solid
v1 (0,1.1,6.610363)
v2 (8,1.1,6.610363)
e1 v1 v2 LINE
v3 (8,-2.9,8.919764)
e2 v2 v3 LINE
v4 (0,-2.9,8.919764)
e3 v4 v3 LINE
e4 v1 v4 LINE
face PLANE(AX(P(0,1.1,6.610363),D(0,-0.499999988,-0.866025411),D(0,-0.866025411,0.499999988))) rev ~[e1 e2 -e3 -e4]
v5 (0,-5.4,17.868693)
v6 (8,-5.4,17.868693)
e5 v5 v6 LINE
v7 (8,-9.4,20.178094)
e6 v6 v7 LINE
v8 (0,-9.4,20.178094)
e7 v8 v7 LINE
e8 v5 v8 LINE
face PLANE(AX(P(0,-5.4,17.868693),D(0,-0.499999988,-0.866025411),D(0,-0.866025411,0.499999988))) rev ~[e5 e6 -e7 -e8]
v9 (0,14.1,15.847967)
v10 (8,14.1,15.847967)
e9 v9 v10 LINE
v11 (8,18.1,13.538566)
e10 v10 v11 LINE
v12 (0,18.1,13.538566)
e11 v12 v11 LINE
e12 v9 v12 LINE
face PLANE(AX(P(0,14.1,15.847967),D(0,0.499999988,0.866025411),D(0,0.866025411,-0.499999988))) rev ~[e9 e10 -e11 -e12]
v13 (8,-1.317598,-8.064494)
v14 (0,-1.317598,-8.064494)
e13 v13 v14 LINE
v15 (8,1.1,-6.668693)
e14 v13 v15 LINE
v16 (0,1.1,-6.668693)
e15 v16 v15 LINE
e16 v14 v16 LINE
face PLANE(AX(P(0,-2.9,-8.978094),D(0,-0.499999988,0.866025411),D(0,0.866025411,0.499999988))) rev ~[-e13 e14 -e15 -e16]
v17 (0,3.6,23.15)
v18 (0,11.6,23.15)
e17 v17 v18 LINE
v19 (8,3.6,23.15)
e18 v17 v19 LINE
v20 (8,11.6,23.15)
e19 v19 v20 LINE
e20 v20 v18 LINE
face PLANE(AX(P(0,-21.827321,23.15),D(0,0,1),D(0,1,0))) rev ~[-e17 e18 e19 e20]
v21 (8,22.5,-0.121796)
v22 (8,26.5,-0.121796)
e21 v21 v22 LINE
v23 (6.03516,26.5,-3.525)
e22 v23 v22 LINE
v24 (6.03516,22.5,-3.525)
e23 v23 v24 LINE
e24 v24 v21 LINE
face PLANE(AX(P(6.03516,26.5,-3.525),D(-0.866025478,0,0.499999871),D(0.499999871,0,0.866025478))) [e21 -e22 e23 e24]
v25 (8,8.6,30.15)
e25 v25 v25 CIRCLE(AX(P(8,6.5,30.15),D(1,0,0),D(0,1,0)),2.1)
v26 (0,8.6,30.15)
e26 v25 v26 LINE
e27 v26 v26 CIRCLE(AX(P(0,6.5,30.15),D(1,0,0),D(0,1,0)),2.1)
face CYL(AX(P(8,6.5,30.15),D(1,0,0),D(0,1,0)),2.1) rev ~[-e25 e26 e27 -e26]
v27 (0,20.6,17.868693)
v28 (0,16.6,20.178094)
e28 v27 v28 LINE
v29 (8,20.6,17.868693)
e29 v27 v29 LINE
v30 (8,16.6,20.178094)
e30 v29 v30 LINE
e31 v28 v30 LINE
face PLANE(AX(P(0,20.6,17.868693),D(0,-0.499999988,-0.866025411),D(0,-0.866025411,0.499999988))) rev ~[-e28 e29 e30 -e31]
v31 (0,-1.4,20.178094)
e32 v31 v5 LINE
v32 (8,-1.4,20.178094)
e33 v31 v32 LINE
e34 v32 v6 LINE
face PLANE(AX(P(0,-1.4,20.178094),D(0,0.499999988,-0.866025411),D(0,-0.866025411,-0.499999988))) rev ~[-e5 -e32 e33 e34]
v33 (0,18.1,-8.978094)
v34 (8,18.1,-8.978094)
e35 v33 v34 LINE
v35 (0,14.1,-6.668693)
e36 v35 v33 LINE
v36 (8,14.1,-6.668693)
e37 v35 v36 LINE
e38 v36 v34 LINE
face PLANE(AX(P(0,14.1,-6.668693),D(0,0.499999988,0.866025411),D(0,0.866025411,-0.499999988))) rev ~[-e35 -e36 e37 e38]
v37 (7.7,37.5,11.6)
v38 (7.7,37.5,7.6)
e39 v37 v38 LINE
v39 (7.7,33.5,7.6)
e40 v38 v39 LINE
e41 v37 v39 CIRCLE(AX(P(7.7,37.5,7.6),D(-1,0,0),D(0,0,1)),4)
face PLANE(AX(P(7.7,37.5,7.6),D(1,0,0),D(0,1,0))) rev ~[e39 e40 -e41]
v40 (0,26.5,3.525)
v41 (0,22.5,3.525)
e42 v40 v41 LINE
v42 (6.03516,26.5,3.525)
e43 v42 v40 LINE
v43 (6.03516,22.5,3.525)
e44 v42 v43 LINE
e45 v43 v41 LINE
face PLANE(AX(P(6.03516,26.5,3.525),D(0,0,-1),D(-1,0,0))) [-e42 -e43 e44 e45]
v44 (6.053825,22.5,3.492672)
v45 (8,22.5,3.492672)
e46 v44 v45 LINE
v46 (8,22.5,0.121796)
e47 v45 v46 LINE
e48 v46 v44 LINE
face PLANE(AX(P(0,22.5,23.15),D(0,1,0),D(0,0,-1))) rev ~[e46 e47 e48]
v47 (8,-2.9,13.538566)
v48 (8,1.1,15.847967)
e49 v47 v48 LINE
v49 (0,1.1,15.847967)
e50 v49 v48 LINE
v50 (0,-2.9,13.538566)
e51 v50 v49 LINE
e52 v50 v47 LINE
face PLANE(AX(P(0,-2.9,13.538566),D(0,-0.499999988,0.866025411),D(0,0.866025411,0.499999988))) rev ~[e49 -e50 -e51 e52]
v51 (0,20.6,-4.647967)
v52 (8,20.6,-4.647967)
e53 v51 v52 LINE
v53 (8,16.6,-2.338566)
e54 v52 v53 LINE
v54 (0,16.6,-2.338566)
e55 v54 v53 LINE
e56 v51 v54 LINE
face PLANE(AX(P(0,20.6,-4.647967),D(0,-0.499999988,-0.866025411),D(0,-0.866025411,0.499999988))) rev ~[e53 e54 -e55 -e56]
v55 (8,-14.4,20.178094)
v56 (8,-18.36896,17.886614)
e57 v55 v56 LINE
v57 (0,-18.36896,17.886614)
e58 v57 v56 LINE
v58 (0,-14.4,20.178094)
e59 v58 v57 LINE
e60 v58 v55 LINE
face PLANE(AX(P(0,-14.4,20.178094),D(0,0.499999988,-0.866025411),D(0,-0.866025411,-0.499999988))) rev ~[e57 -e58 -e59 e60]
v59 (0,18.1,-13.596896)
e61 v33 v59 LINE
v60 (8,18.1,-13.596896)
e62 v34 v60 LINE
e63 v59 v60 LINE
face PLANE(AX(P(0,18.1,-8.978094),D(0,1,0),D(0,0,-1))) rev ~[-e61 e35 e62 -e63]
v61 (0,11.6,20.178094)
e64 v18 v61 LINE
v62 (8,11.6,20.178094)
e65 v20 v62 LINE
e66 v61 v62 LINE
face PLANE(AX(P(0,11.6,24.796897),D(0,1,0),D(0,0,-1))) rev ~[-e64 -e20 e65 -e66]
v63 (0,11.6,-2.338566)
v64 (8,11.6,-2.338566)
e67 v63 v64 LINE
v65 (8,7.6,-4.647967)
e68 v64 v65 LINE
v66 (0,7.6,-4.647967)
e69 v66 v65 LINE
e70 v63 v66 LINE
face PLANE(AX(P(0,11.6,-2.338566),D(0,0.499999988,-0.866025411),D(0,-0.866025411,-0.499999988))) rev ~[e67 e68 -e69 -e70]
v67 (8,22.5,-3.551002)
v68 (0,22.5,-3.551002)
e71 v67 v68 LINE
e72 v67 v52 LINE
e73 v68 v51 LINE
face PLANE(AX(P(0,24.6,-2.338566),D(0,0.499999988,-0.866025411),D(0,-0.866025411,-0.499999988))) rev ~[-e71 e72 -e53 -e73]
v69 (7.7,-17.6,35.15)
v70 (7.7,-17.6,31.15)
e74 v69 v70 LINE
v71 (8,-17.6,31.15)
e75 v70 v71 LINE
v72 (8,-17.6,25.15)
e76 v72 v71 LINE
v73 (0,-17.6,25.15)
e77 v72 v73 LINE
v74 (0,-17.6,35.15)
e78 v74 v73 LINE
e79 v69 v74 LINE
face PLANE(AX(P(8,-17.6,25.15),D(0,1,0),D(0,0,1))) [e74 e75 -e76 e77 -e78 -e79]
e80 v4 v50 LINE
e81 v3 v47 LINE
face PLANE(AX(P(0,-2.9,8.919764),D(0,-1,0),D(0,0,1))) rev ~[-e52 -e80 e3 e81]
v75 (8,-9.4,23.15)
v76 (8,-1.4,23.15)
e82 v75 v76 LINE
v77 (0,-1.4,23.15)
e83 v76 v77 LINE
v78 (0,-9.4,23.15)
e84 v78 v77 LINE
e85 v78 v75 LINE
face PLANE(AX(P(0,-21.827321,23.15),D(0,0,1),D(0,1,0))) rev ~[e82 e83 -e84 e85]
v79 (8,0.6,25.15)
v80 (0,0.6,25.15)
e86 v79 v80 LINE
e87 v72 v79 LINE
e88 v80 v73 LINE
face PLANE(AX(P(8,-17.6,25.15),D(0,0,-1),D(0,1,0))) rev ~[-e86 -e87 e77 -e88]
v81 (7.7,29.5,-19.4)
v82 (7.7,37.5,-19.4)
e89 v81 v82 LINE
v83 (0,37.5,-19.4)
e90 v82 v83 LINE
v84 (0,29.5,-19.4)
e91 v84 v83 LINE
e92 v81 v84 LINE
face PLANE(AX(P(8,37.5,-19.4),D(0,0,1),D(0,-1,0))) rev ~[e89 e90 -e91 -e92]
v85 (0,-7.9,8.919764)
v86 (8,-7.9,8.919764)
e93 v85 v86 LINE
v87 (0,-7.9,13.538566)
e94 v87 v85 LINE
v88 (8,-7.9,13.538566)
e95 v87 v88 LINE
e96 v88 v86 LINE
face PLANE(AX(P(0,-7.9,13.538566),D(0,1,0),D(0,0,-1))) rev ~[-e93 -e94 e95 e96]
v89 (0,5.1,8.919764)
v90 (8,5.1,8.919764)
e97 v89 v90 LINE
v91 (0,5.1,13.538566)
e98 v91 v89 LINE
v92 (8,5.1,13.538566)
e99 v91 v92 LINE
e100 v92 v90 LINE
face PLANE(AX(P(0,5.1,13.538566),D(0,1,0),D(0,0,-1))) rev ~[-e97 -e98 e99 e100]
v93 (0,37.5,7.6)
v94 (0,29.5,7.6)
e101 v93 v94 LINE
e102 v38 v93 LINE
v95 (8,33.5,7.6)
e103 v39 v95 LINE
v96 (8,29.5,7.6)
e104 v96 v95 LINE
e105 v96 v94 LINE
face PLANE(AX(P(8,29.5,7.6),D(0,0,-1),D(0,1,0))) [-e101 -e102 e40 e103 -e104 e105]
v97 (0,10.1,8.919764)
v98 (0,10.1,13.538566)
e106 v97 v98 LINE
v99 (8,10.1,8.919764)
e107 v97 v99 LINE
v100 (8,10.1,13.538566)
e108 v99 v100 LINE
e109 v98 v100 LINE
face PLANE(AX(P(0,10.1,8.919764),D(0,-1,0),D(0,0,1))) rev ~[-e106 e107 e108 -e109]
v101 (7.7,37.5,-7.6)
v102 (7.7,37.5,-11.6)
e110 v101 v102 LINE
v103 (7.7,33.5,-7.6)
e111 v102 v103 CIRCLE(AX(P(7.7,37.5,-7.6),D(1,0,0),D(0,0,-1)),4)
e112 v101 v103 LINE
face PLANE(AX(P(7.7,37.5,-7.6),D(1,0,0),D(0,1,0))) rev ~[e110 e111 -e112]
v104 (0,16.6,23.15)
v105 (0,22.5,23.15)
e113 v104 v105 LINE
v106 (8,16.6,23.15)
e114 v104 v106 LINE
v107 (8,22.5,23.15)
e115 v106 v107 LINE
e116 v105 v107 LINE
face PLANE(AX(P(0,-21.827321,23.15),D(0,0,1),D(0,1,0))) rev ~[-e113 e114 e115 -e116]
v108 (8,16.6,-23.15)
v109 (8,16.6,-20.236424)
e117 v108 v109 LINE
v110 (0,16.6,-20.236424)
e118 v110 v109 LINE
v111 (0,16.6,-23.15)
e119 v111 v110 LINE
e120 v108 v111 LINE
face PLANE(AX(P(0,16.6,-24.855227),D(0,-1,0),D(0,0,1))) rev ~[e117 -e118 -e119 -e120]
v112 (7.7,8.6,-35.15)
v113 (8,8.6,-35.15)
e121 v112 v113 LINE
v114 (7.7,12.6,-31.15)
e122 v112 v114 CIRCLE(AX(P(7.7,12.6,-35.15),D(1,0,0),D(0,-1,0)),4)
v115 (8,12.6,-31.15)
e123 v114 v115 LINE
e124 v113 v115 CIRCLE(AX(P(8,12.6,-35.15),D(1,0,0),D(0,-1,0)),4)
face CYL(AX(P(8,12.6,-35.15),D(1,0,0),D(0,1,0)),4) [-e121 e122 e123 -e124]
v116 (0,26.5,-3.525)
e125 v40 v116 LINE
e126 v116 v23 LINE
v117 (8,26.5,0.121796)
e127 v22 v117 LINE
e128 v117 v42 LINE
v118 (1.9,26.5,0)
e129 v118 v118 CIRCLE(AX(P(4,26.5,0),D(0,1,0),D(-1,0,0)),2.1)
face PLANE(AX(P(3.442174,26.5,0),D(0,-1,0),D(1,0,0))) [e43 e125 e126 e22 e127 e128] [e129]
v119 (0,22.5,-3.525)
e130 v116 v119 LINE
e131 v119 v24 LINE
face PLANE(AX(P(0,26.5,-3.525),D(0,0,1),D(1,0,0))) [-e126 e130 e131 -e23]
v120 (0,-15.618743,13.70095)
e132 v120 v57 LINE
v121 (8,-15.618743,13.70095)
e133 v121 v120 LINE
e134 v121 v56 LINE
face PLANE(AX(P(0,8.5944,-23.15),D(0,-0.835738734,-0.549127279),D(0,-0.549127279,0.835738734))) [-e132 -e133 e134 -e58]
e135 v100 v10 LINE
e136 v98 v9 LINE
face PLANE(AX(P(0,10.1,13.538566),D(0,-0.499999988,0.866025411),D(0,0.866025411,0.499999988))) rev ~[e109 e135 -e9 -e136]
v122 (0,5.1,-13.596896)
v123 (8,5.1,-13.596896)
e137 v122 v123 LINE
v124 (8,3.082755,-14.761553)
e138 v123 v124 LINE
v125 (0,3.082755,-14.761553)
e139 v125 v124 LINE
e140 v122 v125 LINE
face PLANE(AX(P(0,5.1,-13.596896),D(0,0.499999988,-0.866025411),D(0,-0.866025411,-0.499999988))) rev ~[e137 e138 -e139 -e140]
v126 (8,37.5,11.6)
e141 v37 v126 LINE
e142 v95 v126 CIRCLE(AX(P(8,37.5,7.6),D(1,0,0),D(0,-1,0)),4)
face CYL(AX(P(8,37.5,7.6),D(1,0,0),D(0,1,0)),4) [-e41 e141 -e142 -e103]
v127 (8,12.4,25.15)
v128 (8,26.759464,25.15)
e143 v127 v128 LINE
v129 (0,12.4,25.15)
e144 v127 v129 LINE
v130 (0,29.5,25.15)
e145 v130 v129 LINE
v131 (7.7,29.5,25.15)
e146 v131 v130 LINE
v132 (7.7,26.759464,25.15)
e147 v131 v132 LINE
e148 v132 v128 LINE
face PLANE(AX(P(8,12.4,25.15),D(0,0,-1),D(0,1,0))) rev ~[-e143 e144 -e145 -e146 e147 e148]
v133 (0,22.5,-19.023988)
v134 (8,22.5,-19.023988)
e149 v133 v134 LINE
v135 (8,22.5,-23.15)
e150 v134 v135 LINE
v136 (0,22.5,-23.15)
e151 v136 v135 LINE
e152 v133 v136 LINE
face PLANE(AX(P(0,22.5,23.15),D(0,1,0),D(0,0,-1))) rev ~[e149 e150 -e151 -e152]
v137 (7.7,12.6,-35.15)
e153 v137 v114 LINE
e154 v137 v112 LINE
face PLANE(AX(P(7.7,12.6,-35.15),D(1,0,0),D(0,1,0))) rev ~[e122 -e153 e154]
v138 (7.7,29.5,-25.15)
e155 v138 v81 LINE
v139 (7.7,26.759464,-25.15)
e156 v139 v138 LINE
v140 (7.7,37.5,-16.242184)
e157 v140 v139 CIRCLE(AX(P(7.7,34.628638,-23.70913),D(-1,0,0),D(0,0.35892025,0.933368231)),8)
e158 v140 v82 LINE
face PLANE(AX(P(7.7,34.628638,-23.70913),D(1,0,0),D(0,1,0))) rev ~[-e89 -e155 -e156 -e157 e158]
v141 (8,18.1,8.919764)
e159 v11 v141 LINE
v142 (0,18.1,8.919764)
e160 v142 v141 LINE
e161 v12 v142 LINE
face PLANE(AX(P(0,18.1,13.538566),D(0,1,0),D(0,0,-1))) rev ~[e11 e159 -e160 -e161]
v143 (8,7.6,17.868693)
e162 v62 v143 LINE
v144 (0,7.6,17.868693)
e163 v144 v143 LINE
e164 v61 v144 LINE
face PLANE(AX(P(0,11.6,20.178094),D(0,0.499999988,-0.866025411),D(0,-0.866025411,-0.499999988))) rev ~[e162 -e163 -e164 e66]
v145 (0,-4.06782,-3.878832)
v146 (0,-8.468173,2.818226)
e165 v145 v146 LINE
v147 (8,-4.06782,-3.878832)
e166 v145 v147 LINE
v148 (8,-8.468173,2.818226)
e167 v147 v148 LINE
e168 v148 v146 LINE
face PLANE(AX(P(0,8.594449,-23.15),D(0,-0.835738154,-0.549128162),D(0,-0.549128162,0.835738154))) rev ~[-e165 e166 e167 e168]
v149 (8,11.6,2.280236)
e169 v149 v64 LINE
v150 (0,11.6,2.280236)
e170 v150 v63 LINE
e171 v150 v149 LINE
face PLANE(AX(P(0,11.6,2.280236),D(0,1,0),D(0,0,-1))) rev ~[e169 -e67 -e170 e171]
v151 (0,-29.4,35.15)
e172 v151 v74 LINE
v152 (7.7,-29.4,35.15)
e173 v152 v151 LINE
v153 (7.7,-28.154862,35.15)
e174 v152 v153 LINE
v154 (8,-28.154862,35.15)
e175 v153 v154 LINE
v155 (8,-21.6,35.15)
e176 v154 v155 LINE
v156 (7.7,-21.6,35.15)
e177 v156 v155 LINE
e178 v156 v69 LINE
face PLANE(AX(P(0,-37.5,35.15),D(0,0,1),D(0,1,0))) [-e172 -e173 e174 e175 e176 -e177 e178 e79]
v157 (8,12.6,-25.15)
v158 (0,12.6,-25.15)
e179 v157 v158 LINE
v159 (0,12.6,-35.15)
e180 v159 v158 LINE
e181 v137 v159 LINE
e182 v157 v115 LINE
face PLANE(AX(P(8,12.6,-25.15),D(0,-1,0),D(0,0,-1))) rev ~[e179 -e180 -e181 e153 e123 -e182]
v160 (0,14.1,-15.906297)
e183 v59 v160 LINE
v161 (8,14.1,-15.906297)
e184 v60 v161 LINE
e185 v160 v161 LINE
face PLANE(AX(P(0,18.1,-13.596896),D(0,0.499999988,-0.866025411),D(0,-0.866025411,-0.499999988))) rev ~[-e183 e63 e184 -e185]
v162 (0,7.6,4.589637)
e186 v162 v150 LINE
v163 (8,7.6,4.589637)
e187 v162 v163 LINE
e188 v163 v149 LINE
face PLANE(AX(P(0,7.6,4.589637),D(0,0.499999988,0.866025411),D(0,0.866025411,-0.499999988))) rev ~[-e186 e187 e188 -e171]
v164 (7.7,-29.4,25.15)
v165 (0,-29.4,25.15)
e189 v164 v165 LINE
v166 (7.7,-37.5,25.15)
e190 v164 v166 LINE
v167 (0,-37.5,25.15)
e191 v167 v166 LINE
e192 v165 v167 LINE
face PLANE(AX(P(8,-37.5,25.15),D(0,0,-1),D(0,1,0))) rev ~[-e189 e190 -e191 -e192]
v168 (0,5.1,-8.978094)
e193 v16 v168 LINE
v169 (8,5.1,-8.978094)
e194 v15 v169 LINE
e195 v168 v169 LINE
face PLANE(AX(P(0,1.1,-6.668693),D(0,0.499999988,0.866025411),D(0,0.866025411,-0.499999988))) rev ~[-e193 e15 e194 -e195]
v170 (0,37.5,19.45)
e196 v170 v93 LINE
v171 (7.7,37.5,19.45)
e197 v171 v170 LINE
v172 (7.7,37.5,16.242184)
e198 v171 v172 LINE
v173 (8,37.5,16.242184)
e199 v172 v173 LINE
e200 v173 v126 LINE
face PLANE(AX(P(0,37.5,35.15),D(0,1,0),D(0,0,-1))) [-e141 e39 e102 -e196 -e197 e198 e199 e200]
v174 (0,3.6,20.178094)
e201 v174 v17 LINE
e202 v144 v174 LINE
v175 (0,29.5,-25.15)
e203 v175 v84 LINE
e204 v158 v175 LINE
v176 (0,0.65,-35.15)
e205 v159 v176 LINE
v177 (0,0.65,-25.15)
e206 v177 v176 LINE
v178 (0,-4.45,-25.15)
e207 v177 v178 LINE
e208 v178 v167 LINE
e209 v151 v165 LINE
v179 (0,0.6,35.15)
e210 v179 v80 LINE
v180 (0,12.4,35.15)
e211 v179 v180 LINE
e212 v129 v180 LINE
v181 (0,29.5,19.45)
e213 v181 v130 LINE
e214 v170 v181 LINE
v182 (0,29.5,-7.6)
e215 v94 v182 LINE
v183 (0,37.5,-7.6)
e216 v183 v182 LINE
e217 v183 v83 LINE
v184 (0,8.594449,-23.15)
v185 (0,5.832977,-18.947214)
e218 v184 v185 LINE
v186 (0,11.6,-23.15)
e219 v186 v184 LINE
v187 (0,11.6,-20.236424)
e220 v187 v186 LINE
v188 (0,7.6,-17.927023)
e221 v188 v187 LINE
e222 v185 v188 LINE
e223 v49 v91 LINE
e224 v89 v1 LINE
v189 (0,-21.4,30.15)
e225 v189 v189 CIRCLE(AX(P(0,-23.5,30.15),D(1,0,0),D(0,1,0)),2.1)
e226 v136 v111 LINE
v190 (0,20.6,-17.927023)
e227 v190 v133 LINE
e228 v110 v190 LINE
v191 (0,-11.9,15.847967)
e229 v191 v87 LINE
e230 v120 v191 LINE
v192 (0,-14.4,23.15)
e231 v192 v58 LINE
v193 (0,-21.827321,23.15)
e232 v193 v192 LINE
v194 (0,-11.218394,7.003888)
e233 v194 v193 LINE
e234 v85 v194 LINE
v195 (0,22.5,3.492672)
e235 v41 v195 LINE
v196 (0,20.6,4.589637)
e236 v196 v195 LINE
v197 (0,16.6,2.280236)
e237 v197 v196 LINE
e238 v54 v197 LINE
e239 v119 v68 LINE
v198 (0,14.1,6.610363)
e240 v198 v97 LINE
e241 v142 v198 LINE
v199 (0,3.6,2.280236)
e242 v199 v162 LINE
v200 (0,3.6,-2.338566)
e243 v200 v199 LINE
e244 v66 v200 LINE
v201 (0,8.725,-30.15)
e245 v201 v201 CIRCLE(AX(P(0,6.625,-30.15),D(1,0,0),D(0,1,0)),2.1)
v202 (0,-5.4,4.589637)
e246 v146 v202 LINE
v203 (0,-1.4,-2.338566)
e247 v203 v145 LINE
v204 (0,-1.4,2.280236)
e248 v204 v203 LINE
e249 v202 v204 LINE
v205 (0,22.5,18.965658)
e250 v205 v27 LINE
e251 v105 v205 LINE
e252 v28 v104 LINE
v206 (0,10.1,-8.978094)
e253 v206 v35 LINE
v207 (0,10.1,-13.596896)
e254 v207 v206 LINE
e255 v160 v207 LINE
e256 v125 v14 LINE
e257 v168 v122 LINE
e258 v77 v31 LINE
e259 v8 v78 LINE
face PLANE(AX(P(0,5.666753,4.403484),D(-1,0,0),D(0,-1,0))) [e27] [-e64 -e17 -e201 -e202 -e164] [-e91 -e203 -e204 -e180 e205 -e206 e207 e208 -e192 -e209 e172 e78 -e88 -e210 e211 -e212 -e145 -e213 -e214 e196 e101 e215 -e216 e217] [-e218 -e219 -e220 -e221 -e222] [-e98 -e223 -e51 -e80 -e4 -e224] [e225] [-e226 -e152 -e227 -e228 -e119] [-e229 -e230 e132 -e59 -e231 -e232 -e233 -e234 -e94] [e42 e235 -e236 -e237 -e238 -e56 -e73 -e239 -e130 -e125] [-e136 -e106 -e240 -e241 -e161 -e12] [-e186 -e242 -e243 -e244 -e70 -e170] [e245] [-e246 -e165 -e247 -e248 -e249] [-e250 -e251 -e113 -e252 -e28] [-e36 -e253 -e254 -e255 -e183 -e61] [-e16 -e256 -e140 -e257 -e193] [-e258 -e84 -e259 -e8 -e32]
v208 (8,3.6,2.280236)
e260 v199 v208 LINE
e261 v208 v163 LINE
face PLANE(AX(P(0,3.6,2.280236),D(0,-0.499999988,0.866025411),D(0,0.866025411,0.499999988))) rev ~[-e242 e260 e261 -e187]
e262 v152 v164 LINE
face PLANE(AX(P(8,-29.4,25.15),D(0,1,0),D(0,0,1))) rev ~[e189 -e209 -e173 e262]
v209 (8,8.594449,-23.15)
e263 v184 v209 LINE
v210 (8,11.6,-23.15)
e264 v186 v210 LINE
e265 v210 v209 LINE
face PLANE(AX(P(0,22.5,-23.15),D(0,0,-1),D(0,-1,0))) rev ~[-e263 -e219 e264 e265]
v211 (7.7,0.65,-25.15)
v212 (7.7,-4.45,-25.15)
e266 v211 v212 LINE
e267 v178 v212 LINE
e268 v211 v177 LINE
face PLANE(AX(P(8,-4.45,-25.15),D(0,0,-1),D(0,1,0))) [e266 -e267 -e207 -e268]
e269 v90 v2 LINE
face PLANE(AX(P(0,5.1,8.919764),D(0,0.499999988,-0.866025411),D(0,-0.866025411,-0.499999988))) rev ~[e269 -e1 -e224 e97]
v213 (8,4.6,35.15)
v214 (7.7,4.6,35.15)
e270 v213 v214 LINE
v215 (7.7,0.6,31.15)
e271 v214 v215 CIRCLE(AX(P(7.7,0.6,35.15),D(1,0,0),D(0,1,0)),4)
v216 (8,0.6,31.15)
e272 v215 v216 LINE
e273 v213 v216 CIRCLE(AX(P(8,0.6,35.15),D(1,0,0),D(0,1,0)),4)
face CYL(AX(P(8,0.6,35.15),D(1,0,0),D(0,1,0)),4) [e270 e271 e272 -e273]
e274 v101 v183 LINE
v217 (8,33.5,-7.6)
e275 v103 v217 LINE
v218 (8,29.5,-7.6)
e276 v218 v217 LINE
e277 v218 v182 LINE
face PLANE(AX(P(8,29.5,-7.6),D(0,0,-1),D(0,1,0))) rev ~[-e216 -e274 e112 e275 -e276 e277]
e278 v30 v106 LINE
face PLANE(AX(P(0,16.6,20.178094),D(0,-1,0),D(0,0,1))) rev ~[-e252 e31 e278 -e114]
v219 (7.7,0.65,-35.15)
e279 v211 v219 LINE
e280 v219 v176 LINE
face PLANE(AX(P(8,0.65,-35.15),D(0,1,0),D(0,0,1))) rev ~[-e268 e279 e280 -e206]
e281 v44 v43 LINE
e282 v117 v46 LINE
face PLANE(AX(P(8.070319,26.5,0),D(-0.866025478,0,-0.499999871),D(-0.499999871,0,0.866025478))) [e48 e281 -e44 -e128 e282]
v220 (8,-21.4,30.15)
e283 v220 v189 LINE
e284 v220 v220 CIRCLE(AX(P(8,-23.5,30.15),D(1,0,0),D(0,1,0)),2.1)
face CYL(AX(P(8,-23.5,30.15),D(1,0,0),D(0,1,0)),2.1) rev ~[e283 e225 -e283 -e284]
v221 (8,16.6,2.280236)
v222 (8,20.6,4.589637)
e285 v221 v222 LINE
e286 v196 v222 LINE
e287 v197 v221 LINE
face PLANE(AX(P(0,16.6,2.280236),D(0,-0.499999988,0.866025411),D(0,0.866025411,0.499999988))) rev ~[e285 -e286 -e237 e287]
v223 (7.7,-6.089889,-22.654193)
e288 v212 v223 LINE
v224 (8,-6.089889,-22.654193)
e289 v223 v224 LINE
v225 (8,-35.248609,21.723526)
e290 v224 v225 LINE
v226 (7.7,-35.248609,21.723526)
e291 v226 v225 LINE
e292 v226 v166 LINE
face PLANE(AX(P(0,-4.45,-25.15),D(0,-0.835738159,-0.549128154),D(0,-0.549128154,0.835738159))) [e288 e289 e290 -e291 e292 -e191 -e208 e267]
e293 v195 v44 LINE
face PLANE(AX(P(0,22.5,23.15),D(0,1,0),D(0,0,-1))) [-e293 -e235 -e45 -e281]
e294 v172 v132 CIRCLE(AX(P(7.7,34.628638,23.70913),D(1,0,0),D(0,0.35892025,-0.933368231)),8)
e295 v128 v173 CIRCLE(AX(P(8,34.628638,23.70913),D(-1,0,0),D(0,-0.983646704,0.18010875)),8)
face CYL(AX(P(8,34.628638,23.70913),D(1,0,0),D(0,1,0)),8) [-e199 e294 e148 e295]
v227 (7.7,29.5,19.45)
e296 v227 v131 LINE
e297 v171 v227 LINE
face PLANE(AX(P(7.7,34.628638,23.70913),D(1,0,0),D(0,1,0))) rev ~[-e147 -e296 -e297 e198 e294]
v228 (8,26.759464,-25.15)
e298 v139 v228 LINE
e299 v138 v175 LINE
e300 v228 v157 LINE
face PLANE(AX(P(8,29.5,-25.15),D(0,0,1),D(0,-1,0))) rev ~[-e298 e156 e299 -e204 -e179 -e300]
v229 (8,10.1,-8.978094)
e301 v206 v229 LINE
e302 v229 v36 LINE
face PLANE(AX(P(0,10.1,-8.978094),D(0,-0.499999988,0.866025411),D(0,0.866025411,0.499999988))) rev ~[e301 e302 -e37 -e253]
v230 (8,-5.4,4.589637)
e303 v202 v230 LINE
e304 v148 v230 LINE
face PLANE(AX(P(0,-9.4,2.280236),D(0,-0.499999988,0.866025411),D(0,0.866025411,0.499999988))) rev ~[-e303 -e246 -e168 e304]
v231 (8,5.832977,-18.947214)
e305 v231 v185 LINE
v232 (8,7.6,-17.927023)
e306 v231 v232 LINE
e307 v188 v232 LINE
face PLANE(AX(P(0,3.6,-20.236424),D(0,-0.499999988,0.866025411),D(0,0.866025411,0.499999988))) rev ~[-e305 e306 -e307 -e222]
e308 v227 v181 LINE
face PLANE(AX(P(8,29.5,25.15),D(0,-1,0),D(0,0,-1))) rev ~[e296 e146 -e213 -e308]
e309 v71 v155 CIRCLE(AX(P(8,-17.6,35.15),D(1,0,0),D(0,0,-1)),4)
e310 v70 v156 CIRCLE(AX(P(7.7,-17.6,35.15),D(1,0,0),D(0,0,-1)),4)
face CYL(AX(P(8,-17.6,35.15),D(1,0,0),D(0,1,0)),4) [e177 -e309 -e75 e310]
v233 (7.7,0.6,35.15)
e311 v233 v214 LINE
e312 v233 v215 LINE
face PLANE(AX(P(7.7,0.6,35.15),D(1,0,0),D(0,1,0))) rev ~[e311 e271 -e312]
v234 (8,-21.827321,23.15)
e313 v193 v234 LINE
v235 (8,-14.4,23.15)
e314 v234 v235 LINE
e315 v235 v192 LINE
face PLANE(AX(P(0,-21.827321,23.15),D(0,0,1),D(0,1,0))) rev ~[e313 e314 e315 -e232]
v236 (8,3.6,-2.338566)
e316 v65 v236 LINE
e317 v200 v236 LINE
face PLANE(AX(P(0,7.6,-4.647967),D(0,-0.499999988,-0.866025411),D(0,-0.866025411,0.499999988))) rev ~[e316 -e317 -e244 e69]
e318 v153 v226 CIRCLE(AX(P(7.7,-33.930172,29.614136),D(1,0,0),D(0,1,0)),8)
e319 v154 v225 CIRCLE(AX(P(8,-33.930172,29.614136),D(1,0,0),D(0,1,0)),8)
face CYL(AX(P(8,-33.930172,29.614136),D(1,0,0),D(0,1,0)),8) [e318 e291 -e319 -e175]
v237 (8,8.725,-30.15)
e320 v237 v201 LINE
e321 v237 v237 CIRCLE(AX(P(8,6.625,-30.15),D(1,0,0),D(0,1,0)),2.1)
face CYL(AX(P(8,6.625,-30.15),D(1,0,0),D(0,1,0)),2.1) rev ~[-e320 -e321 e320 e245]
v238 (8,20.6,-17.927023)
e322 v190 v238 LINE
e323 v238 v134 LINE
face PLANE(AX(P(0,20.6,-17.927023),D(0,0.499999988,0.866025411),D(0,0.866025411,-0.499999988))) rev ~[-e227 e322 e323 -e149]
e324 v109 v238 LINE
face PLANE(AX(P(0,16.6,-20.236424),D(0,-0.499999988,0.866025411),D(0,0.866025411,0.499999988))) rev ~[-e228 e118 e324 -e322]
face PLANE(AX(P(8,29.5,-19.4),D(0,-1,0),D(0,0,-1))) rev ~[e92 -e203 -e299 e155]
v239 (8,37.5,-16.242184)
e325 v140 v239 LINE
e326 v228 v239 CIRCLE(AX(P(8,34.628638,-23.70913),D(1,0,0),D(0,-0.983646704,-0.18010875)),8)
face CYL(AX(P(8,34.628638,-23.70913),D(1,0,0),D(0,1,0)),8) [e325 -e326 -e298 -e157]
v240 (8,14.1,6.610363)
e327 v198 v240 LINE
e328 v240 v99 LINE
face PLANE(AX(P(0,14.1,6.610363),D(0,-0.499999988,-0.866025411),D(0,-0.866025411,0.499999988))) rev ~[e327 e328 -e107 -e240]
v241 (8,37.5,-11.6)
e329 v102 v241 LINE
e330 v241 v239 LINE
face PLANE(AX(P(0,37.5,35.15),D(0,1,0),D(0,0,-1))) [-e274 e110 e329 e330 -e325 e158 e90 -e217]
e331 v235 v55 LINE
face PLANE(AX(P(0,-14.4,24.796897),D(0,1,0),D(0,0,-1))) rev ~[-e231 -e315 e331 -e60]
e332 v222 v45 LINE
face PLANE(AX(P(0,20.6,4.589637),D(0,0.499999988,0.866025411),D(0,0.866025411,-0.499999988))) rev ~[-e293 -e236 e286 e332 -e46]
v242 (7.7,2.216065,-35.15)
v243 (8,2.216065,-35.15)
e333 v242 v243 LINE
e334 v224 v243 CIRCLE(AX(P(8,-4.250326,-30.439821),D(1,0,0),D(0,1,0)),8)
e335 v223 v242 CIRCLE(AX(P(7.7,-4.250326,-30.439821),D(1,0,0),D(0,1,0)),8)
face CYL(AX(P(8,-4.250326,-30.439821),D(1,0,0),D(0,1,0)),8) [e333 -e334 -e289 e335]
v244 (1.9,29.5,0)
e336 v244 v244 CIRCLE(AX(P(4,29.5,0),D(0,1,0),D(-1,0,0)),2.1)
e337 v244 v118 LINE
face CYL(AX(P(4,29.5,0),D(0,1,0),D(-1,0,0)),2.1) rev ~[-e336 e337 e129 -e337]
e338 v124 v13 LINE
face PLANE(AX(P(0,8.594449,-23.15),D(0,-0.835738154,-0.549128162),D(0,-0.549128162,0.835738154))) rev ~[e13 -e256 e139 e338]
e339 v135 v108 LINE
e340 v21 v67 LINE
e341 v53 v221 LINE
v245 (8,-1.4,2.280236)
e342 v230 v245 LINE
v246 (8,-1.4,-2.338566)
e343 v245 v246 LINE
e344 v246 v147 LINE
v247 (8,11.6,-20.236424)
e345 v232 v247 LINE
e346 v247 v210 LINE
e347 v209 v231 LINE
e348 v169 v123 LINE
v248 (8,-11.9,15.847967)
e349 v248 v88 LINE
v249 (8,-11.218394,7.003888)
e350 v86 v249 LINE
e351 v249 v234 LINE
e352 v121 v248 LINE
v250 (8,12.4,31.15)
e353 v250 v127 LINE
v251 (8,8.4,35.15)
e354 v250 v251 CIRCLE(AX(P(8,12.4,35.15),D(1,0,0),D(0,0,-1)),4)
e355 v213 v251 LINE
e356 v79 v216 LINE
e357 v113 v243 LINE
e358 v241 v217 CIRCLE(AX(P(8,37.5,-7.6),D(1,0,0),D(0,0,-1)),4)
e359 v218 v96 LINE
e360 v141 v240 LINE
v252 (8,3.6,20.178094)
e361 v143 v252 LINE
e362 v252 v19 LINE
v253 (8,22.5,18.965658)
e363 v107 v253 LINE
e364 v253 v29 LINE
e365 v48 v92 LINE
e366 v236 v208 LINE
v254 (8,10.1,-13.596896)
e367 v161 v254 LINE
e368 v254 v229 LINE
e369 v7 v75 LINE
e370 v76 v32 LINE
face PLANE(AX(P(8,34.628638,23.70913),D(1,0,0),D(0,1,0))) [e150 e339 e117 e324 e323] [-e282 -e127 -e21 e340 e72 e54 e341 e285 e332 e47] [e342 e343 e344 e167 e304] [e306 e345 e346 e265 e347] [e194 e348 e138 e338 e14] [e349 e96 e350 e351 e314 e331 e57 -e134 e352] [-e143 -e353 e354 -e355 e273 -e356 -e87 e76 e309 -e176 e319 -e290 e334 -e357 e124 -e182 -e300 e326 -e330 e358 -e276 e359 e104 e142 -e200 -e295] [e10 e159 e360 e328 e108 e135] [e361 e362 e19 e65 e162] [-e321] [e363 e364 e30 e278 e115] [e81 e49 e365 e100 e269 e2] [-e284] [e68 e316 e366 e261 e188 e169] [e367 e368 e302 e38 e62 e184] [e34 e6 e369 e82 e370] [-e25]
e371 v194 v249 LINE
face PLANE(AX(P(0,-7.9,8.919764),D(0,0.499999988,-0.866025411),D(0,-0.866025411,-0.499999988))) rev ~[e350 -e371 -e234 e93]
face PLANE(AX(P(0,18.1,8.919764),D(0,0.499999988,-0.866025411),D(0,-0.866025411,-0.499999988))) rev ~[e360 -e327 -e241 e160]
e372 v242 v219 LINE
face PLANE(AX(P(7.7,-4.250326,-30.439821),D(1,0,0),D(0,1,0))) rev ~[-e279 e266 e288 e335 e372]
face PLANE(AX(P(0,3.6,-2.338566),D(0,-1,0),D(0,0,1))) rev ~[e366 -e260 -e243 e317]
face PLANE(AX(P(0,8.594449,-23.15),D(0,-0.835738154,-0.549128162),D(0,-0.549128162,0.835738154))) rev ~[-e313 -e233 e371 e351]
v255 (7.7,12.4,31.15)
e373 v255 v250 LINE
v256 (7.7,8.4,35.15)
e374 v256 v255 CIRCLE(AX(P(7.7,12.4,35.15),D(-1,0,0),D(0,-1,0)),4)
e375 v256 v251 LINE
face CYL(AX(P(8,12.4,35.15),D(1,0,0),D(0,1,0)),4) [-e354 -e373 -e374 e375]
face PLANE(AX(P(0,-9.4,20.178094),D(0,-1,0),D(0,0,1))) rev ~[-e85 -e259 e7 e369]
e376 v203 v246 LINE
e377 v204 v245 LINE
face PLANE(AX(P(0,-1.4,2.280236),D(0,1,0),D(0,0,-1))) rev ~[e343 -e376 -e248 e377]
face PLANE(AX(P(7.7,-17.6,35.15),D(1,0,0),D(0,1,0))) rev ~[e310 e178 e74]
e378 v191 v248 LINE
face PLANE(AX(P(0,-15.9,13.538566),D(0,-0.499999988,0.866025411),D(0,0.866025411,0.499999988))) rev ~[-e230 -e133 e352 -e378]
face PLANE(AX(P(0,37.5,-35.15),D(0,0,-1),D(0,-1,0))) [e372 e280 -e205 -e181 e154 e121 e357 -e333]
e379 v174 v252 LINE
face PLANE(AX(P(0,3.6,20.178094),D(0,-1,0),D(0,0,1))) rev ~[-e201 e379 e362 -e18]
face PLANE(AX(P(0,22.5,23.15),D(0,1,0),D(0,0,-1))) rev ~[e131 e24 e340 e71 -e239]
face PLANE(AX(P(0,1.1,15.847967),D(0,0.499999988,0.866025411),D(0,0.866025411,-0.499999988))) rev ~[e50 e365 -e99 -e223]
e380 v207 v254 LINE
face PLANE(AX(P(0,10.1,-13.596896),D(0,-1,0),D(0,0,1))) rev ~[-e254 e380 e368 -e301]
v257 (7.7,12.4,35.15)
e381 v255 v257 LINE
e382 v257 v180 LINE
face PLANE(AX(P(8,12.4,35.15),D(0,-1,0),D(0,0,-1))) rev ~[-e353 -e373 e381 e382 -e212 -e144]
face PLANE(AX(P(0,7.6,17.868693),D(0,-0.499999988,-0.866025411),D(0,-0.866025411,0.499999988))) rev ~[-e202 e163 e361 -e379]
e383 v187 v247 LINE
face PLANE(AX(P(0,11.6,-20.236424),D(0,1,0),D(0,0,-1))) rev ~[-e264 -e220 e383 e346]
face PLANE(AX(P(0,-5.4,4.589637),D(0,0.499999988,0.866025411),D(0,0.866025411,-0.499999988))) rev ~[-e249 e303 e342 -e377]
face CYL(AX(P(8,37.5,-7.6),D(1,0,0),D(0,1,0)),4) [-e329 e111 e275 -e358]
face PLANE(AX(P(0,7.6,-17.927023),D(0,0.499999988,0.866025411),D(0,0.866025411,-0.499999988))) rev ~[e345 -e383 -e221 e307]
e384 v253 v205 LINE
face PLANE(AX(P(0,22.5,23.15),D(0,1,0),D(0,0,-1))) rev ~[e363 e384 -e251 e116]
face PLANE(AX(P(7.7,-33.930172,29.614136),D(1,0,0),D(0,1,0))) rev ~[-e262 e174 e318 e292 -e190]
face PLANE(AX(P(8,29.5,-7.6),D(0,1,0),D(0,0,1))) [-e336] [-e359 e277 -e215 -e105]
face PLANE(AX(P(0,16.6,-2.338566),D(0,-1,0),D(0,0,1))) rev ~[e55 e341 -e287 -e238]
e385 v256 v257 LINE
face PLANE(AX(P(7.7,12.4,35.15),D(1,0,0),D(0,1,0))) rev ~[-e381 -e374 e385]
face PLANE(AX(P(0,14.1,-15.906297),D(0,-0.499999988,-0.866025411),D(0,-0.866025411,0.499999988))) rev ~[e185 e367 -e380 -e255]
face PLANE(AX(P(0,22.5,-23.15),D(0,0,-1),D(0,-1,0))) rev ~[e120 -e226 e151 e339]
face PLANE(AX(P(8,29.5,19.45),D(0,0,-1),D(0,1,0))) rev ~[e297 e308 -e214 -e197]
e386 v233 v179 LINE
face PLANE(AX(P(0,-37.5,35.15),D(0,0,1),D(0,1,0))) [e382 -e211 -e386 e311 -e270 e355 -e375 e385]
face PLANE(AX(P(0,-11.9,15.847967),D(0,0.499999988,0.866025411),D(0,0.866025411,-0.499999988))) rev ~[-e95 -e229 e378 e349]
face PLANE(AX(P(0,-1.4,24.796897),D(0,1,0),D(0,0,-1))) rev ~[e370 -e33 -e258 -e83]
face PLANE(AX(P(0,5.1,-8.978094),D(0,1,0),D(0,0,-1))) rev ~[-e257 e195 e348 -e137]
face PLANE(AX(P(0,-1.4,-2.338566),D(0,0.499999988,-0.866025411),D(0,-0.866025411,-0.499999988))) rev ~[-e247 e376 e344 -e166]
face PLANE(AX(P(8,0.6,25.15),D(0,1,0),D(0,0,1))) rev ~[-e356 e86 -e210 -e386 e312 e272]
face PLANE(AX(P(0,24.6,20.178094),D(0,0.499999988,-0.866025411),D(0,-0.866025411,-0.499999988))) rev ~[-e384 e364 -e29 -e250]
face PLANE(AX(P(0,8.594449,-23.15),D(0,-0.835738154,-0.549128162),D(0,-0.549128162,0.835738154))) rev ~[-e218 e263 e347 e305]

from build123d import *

# Parameters (mm, degrees)
HONEYCOMB_W      = 109
HONEYCOMB_H      = 99.592922
EXTRUDE002_DEPTH = 8
PAD002_DEPTH     = 8
PAD001_DEPTH     = 5.1
PAD_DEPTH        = 8
SKETCH001_W      = 8.1
SKETCH001_H      = 10
SKETCH001_W_2    = 18.2
SKETCH001_W_3    = 5.1
SKETCH001_W_4    = 8
SKETCH001_H_2    = 15.2
POCKET_DEPTH     = 8.001
SKETCH002_R      = 2.1
POCKET001_DEPTH  = 8.001
SKETCH004_R      = 2.1
POCKET002_DEPTH  = 7
SKETCH006_R      = 8
SKETCH006_R_2    = 4
PAD003_DEPTH     = 0.3


with BuildPart() as extrude002:
    # Honeycomb → Extrude002 (new body)
    with BuildSketch(Plane(origin=(0, 0, -0.165735), x_dir=(0, -1, 0), z_dir=(1, 0, 0))):
        with Locations((0, -0.165735)):
            Rectangle(HONEYCOMB_W, HONEYCOMB_H)
        Polygon((41.5, -37.26049), (45.5, -34.951089), (49.5, -37.26049), (49.5, -41.879292), (45.5, -44.188693), (41.5, -41.879292), align=None, mode=Mode.SUBTRACT)
        Polygon((28.5, -37.26049), (32.5, -34.951089), (36.5, -37.26049), (36.5, -41.879292), (32.5, -44.188693), (28.5, -41.879292), align=None, mode=Mode.SUBTRACT)
        Polygon((15.5, -37.26049), (19.5, -34.951089), (23.5, -37.26049), (23.5, -41.879292), (19.5, -44.188693), (15.5, -41.879292), align=None, mode=Mode.SUBTRACT)
        Polygon((2.5, -37.26049), (6.5, -34.951089), (10.5, -37.26049), (10.5, -41.879292), (6.5, -44.188693), (2.5, -41.879292), align=None, mode=Mode.SUBTRACT)
        Polygon((-10.5, -37.26049), (-6.5, -34.951089), (-2.5, -37.26049), (-2.5, -41.879292), (-6.5, -44.188693), (-10.5, -41.879292), align=None, mode=Mode.SUBTRACT)
        Polygon((-23.5, -37.26049), (-19.5, -34.951089), (-15.5, -37.26049), (-15.5, -41.879292), (-19.5, -44.188693), (-23.5, -41.879292), align=None, mode=Mode.SUBTRACT)
        Polygon((-36.5, -37.26049), (-32.5, -34.951089), (-28.5, -37.26049), (-28.5, -41.879292), (-32.5, -44.188693), (-36.5, -41.879292), align=None, mode=Mode.SUBTRACT)
        Polygon((-49.5, -37.26049), (-45.5, -34.951089), (-41.5, -37.26049), (-41.5, -41.879292), (-45.5, -44.188693), (-49.5, -41.879292), align=None, mode=Mode.SUBTRACT)
        Polygon((35, -26.00216), (39, -23.692759), (43, -26.00216), (43, -30.620962), (39, -32.930363), (35, -30.620962), align=None, mode=Mode.SUBTRACT)
        Polygon((22, -26.00216), (26, -23.692759), (30, -26.00216), (30, -30.620962), (26, -32.930363), (22, -30.620962), align=None, mode=Mode.SUBTRACT)
        Polygon((9, -26.00216), (13, -23.692759), (17, -26.00216), (17, -30.620962), (13, -32.930363), (9, -30.620962), align=None, mode=Mode.SUBTRACT)
        Polygon((-4, -26.00216), (0, -23.692759), (4, -26.00216), (4, -30.620962), (0, -32.930363), (-4, -30.620962), align=None, mode=Mode.SUBTRACT)
        Polygon((-17, -26.00216), (-13, -23.692759), (-9, -26.00216), (-9, -30.620962), (-13, -32.930363), (-17, -30.620962), align=None, mode=Mode.SUBTRACT)
        Polygon((-30, -26.00216), (-26, -23.692759), (-22, -26.00216), (-22, -30.620962), (-26, -32.930363), (-30, -30.620962), align=None, mode=Mode.SUBTRACT)
        Polygon((-43, -26.00216), (-39, -23.692759), (-35, -26.00216), (-35, -30.620962), (-39, -32.930363), (-43, -30.620962), align=None, mode=Mode.SUBTRACT)
        Polygon((41.5, -14.743829), (45.5, -12.434428), (49.5, -14.743829), (49.5, -19.362632), (45.5, -21.672033), (41.5, -19.362632), align=None, mode=Mode.SUBTRACT)
        Polygon((28.5, -14.743829), (32.5, -12.434428), (36.5, -14.743829), (36.5, -19.362632), (32.5, -21.672033), (28.5, -19.362632), align=None, mode=Mode.SUBTRACT)
        Polygon((15.5, -14.743829), (19.5, -12.434428), (23.5, -14.743829), (23.5, -19.362632), (19.5, -21.672033), (15.5, -19.362632), align=None, mode=Mode.SUBTRACT)
        Polygon((2.5, -14.743829), (6.5, -12.434428), (10.5, -14.743829), (10.5, -19.362632), (6.5, -21.672033), (2.5, -19.362632), align=None, mode=Mode.SUBTRACT)
        Polygon((-10.5, -14.743829), (-6.5, -12.434428), (-2.5, -14.743829), (-2.5, -19.362632), (-6.5, -21.672033), (-10.5, -19.362632), align=None, mode=Mode.SUBTRACT)
        Polygon((-23.5, -14.743829), (-19.5, -12.434428), (-15.5, -14.743829), (-15.5, -19.362632), (-19.5, -21.672033), (-23.5, -19.362632), align=None, mode=Mode.SUBTRACT)
        Polygon((-36.5, -14.743829), (-32.5, -12.434428), (-28.5, -14.743829), (-28.5, -19.362632), (-32.5, -21.672033), (-36.5, -19.362632), align=None, mode=Mode.SUBTRACT)
        Polygon((-49.5, -14.743829), (-45.5, -12.434428), (-41.5, -14.743829), (-41.5, -19.362632), (-45.5, -21.672033), (-49.5, -19.362632), align=None, mode=Mode.SUBTRACT)
        Polygon((35, -3.485499), (39, -1.176098), (43, -3.485499), (43, -8.104301), (39, -10.413702), (35, -8.104301), align=None, mode=Mode.SUBTRACT)
        Polygon((22, -3.485499), (26, -1.176098), (30, -3.485499), (30, -8.104301), (26, -10.413702), (22, -8.104301), align=None, mode=Mode.SUBTRACT)
        Polygon((9, -3.485499), (13, -1.176098), (17, -3.485499), (17, -8.104301), (13, -10.413702), (9, -8.104301), align=None, mode=Mode.SUBTRACT)
        Polygon((-4, -3.485499), (0, -1.176098), (4, -3.485499), (4, -8.104301), (0, -10.413702), (-4, -8.104301), align=None, mode=Mode.SUBTRACT)
        Polygon((-17, -3.485499), (-13, -1.176098), (-9, -3.485499), (-9, -8.104301), (-13, -10.413702), (-17, -8.104301), align=None, mode=Mode.SUBTRACT)
        Polygon((-30, -3.485499), (-26, -1.176098), (-22, -3.485499), (-22, -8.104301), (-26, -10.413702), (-30, -8.104301), align=None, mode=Mode.SUBTRACT)
        Polygon((-43, -3.485499), (-39, -1.176098), (-35, -3.485499), (-35, -8.104301), (-39, -10.413702), (-43, -8.104301), align=None, mode=Mode.SUBTRACT)
        Polygon((41.5, 7.772831), (45.5, 10.082232), (49.5, 7.772831), (49.5, 3.154029), (45.5, 0.844628), (41.5, 3.154029), align=None, mode=Mode.SUBTRACT)
        Polygon((28.5, 7.772831), (32.5, 10.082232), (36.5, 7.772831), (36.5, 3.154029), (32.5, 0.844628), (28.5, 3.154029), align=None, mode=Mode.SUBTRACT)
        Polygon((15.5, 7.772831), (19.5, 10.082232), (23.5, 7.772831), (23.5, 3.154029), (19.5, 0.844628), (15.5, 3.154029), align=None, mode=Mode.SUBTRACT)
        Polygon((2.5, 7.772831), (6.5, 10.082232), (10.5, 7.772831), (10.5, 3.154029), (6.5, 0.844628), (2.5, 3.154029), align=None, mode=Mode.SUBTRACT)
        Polygon((-10.5, 7.772831), (-6.5, 10.082232), (-2.5, 7.772831), (-2.5, 3.154029), (-6.5, 0.844628), (-10.5, 3.154029), align=None, mode=Mode.SUBTRACT)
        Polygon((-23.5, 7.772831), (-19.5, 10.082232), (-15.5, 7.772831), (-15.5, 3.154029), (-19.5, 0.844628), (-23.5, 3.154029), align=None, mode=Mode.SUBTRACT)
        Polygon((-36.5, 7.772831), (-32.5, 10.082232), (-28.5, 7.772831), (-28.5, 3.154029), (-32.5, 0.844628), (-36.5, 3.154029), align=None, mode=Mode.SUBTRACT)
        Polygon((-49.5, 7.772831), (-45.5, 10.082232), (-41.5, 7.772831), (-41.5, 3.154029), (-45.5, 0.844628), (-49.5, 3.154029), align=None, mode=Mode.SUBTRACT)
        Polygon((35, 19.031161), (39, 21.340562), (43, 19.031161), (43, 14.412359), (39, 12.102958), (35, 14.412359), align=None, mode=Mode.SUBTRACT)
        Polygon((22, 19.031161), (26, 21.340562), (30, 19.031161), (30, 14.412359), (26, 12.102958), (22, 14.412359), align=None, mode=Mode.SUBTRACT)
        Polygon((9, 19.031161), (13, 21.340562), (17, 19.031161), (17, 14.412359), (13, 12.102958), (9, 14.412359), align=None, mode=Mode.SUBTRACT)
        Polygon((-4, 19.031161), (0, 21.340562), (4, 19.031161), (4, 14.412359), (0, 12.102958), (-4, 14.412359), align=None, mode=Mode.SUBTRACT)
        Polygon((-17, 19.031161), (-13, 21.340562), (-9, 19.031161), (-9, 14.412359), (-13, 12.102958), (-17, 14.412359), align=None, mode=Mode.SUBTRACT)
        Polygon((-30, 19.031161), (-26, 21.340562), (-22, 19.031161), (-22, 14.412359), (-26, 12.102958), (-30, 14.412359), align=None, mode=Mode.SUBTRACT)
        Polygon((-43, 19.031161), (-39, 21.340562), (-35, 19.031161), (-35, 14.412359), (-39, 12.102958), (-43, 14.412359), align=None, mode=Mode.SUBTRACT)
        Polygon((41.5, 30.289492), (45.5, 32.598893), (49.5, 30.289492), (49.5, 25.670689), (45.5, 23.361288), (41.5, 25.670689), align=None, mode=Mode.SUBTRACT)
        Polygon((28.5, 30.289492), (32.5, 32.598893), (36.5, 30.289492), (36.5, 25.670689), (32.5, 23.361288), (28.5, 25.670689), align=None, mode=Mode.SUBTRACT)
        Polygon((15.5, 30.289492), (19.5, 32.598893), (23.5, 30.289492), (23.5, 25.670689), (19.5, 23.361288), (15.5, 25.670689), align=None, mode=Mode.SUBTRACT)
        Polygon((2.5, 30.289492), (6.5, 32.598893), (10.5, 30.289492), (10.5, 25.670689), (6.5, 23.361288), (2.5, 25.670689), align=None, mode=Mode.SUBTRACT)
        Polygon((-10.5, 30.289492), (-6.5, 32.598893), (-2.5, 30.289492), (-2.5, 25.670689), (-6.5, 23.361288), (-10.5, 25.670689), align=None, mode=Mode.SUBTRACT)
        Polygon((-23.5, 30.289492), (-19.5, 32.598893), (-15.5, 30.289492), (-15.5, 25.670689), (-19.5, 23.361288), (-23.5, 25.670689), align=None, mode=Mode.SUBTRACT)
        Polygon((-36.5, 30.289492), (-32.5, 32.598893), (-28.5, 30.289492), (-28.5, 25.670689), (-32.5, 23.361288), (-36.5, 25.670689), align=None, mode=Mode.SUBTRACT)
        Polygon((-49.5, 30.289492), (-45.5, 32.598893), (-41.5, 30.289492), (-41.5, 25.670689), (-45.5, 23.361288), (-49.5, 25.670689), align=None, mode=Mode.SUBTRACT)
        Polygon((35, 41.547822), (39, 43.857223), (43, 41.547822), (43, 36.92902), (39, 34.619619), (35, 36.92902), align=None, mode=Mode.SUBTRACT)
        Polygon((22, 41.547822), (26, 43.857223), (30, 41.547822), (30, 36.92902), (26, 34.619619), (22, 36.92902), align=None, mode=Mode.SUBTRACT)
        Polygon((9, 41.547822), (13, 43.857223), (17, 41.547822), (17, 36.92902), (13, 34.619619), (9, 36.92902), align=None, mode=Mode.SUBTRACT)
        Polygon((-4, 41.547822), (0, 43.857223), (4, 41.547822), (4, 36.92902), (0, 34.619619), (-4, 36.92902), align=None, mode=Mode.SUBTRACT)
        Polygon((-17, 41.547822), (-13, 43.857223), (-9, 41.547822), (-9, 36.92902), (-13, 34.619619), (-17, 36.92902), align=None, mode=Mode.SUBTRACT)
        Polygon((-30, 41.547822), (-26, 43.857223), (-22, 41.547822), (-22, 36.92902), (-26, 34.619619), (-30, 36.92902), align=None, mode=Mode.SUBTRACT)
        Polygon((-43, 41.547822), (-39, 43.857223), (-35, 41.547822), (-35, 36.92902), (-39, 34.619619), (-43, 36.92902), align=None, mode=Mode.SUBTRACT)
    extrude(amount=EXTRUDE002_DEPTH)


with BuildPart() as extrude002_1:
    # Extrude002 placement: moved
    add(extrude002.part.moved(Location((0, 1.1, 5.6))))


with BuildPart() as common:
    # Sketch005 → Pad002 (new body)
    with BuildSketch(Plane.YZ):
        Polygon((22.5, 23.15), (22.5, -23.15), (8.5944, -23.15), (-21.8273, 23.15), align=None)
    extrude(amount=PAD002_DEPTH)

    # Common: intersect Extrude002
    add(extrude002_1.part, mode=Mode.INTERSECT)


with BuildPart() as pad001:
    # Sketch003 → Pad001 (new body)
    with BuildSketch(Plane.XZ.offset(-26.5)):
        Polygon((1.96484, -3.525), (6.03516, -3.525), (8.070319, 0), (6.03516, 3.525), (0, 3.525), (0, -3.525), align=None)
    extrude(amount=PAD001_DEPTH)


with BuildPart() as halter_seitenwand_fraesspindel_druckbar:
    # Sketch → Pad (new body)
    with BuildSketch(Plane.YZ):
        Polygon((-37.5, 35.15), (37.5, 35.15), (37.5, -35.15), (-4.45, -35.15), (-4.45, -25.15), (-37.5, 25.15), align=None)
        Polygon((-21.827321, 23.15), (22.5, 23.15), (22.5, -23.15), (8.594449, -23.15), align=None, mode=Mode.SUBTRACT)
    extrude(amount=PAD_DEPTH)

    # Sketch001 → Pocket (cut, through all)
    with BuildSketch(Plane.YZ.offset(8)):
        with Locations((-33.45, 30.15)):
            Rectangle(SKETCH001_W, SKETCH001_H)
        with Locations((-8.5, 30.15)):
            Rectangle(SKETCH001_W_2, SKETCH001_H)
        Polygon((37.5, 35.15), (12.4, 35.15), (12.4, 25.15), (29.5, 25.15), (29.5, 19.45), (37.5, 19.45), align=None)
        with Locations((-1.9, -30.15)):
            Rectangle(SKETCH001_W_3, SKETCH001_H)
        Polygon((12.6, -35.15), (37.5, -35.15), (37.5, -25.15), (37.5, -19.4), (29.5, -19.4), (29.5, -25.15), (12.6, -25.15), align=None)
        with Locations((33.5, 0)):
            Rectangle(SKETCH001_W_4, SKETCH001_H_2)
    extrude(amount=-POCKET_DEPTH, mode=Mode.SUBTRACT)

    # Sketch002 → Pocket001 (cut, through all)
    with BuildSketch(Plane.YZ.offset(8)):
        with Locations((-23.5, 30.15)):
            Circle(SKETCH002_R)
        with Locations((6.5, 30.15)):
            Circle(SKETCH002_R)
        with Locations((6.625, -30.15)):
            Circle(SKETCH002_R)
    extrude(amount=-POCKET001_DEPTH, mode=Mode.SUBTRACT)

    # Cut: cut Pad001
    add(pad001.part, mode=Mode.SUBTRACT)

    # Sketch004 → Pocket002 (cut)
    with BuildSketch(Plane(origin=(0, 29.5, 0), x_dir=(-1, 0, 0), z_dir=(0, 1, 0))):
        with Locations((-4, 0)):
            Circle(SKETCH004_R)
    extrude(amount=-POCKET002_DEPTH, mode=Mode.SUBTRACT)

    # Fusion: union Common
    add(common.part)

    # Sketch006 → Pad003 (new body)
    with BuildSketch(Plane.YZ.offset(8)):
        with Locations((34.628638, 23.70913)):
            Circle(SKETCH006_R)
        with Locations((34.628638, -23.70913)):
            Circle(SKETCH006_R)
        with Locations((-33.930172, 29.614136)):
            Circle(SKETCH006_R)
        with Locations((-4.250326, -30.439821)):
            Circle(SKETCH006_R)
        with Locations((-17.6, 35.15)):
            Circle(SKETCH006_R_2)
        with Locations((0.6, 35.15)):
            Circle(SKETCH006_R_2)
        with Locations((12.4, 35.15)):
            Circle(SKETCH006_R_2)
        with Locations((12.6, -35.15)):
            Circle(SKETCH006_R_2)
        with Locations((37.5, 7.6)):
            Circle(SKETCH006_R_2)
        with Locations((37.5, -7.6)):
            Circle(SKETCH006_R_2)
    extrude(amount=-PAD003_DEPTH)


solid = halter_seitenwand_fraesspindel_druckbar.part
